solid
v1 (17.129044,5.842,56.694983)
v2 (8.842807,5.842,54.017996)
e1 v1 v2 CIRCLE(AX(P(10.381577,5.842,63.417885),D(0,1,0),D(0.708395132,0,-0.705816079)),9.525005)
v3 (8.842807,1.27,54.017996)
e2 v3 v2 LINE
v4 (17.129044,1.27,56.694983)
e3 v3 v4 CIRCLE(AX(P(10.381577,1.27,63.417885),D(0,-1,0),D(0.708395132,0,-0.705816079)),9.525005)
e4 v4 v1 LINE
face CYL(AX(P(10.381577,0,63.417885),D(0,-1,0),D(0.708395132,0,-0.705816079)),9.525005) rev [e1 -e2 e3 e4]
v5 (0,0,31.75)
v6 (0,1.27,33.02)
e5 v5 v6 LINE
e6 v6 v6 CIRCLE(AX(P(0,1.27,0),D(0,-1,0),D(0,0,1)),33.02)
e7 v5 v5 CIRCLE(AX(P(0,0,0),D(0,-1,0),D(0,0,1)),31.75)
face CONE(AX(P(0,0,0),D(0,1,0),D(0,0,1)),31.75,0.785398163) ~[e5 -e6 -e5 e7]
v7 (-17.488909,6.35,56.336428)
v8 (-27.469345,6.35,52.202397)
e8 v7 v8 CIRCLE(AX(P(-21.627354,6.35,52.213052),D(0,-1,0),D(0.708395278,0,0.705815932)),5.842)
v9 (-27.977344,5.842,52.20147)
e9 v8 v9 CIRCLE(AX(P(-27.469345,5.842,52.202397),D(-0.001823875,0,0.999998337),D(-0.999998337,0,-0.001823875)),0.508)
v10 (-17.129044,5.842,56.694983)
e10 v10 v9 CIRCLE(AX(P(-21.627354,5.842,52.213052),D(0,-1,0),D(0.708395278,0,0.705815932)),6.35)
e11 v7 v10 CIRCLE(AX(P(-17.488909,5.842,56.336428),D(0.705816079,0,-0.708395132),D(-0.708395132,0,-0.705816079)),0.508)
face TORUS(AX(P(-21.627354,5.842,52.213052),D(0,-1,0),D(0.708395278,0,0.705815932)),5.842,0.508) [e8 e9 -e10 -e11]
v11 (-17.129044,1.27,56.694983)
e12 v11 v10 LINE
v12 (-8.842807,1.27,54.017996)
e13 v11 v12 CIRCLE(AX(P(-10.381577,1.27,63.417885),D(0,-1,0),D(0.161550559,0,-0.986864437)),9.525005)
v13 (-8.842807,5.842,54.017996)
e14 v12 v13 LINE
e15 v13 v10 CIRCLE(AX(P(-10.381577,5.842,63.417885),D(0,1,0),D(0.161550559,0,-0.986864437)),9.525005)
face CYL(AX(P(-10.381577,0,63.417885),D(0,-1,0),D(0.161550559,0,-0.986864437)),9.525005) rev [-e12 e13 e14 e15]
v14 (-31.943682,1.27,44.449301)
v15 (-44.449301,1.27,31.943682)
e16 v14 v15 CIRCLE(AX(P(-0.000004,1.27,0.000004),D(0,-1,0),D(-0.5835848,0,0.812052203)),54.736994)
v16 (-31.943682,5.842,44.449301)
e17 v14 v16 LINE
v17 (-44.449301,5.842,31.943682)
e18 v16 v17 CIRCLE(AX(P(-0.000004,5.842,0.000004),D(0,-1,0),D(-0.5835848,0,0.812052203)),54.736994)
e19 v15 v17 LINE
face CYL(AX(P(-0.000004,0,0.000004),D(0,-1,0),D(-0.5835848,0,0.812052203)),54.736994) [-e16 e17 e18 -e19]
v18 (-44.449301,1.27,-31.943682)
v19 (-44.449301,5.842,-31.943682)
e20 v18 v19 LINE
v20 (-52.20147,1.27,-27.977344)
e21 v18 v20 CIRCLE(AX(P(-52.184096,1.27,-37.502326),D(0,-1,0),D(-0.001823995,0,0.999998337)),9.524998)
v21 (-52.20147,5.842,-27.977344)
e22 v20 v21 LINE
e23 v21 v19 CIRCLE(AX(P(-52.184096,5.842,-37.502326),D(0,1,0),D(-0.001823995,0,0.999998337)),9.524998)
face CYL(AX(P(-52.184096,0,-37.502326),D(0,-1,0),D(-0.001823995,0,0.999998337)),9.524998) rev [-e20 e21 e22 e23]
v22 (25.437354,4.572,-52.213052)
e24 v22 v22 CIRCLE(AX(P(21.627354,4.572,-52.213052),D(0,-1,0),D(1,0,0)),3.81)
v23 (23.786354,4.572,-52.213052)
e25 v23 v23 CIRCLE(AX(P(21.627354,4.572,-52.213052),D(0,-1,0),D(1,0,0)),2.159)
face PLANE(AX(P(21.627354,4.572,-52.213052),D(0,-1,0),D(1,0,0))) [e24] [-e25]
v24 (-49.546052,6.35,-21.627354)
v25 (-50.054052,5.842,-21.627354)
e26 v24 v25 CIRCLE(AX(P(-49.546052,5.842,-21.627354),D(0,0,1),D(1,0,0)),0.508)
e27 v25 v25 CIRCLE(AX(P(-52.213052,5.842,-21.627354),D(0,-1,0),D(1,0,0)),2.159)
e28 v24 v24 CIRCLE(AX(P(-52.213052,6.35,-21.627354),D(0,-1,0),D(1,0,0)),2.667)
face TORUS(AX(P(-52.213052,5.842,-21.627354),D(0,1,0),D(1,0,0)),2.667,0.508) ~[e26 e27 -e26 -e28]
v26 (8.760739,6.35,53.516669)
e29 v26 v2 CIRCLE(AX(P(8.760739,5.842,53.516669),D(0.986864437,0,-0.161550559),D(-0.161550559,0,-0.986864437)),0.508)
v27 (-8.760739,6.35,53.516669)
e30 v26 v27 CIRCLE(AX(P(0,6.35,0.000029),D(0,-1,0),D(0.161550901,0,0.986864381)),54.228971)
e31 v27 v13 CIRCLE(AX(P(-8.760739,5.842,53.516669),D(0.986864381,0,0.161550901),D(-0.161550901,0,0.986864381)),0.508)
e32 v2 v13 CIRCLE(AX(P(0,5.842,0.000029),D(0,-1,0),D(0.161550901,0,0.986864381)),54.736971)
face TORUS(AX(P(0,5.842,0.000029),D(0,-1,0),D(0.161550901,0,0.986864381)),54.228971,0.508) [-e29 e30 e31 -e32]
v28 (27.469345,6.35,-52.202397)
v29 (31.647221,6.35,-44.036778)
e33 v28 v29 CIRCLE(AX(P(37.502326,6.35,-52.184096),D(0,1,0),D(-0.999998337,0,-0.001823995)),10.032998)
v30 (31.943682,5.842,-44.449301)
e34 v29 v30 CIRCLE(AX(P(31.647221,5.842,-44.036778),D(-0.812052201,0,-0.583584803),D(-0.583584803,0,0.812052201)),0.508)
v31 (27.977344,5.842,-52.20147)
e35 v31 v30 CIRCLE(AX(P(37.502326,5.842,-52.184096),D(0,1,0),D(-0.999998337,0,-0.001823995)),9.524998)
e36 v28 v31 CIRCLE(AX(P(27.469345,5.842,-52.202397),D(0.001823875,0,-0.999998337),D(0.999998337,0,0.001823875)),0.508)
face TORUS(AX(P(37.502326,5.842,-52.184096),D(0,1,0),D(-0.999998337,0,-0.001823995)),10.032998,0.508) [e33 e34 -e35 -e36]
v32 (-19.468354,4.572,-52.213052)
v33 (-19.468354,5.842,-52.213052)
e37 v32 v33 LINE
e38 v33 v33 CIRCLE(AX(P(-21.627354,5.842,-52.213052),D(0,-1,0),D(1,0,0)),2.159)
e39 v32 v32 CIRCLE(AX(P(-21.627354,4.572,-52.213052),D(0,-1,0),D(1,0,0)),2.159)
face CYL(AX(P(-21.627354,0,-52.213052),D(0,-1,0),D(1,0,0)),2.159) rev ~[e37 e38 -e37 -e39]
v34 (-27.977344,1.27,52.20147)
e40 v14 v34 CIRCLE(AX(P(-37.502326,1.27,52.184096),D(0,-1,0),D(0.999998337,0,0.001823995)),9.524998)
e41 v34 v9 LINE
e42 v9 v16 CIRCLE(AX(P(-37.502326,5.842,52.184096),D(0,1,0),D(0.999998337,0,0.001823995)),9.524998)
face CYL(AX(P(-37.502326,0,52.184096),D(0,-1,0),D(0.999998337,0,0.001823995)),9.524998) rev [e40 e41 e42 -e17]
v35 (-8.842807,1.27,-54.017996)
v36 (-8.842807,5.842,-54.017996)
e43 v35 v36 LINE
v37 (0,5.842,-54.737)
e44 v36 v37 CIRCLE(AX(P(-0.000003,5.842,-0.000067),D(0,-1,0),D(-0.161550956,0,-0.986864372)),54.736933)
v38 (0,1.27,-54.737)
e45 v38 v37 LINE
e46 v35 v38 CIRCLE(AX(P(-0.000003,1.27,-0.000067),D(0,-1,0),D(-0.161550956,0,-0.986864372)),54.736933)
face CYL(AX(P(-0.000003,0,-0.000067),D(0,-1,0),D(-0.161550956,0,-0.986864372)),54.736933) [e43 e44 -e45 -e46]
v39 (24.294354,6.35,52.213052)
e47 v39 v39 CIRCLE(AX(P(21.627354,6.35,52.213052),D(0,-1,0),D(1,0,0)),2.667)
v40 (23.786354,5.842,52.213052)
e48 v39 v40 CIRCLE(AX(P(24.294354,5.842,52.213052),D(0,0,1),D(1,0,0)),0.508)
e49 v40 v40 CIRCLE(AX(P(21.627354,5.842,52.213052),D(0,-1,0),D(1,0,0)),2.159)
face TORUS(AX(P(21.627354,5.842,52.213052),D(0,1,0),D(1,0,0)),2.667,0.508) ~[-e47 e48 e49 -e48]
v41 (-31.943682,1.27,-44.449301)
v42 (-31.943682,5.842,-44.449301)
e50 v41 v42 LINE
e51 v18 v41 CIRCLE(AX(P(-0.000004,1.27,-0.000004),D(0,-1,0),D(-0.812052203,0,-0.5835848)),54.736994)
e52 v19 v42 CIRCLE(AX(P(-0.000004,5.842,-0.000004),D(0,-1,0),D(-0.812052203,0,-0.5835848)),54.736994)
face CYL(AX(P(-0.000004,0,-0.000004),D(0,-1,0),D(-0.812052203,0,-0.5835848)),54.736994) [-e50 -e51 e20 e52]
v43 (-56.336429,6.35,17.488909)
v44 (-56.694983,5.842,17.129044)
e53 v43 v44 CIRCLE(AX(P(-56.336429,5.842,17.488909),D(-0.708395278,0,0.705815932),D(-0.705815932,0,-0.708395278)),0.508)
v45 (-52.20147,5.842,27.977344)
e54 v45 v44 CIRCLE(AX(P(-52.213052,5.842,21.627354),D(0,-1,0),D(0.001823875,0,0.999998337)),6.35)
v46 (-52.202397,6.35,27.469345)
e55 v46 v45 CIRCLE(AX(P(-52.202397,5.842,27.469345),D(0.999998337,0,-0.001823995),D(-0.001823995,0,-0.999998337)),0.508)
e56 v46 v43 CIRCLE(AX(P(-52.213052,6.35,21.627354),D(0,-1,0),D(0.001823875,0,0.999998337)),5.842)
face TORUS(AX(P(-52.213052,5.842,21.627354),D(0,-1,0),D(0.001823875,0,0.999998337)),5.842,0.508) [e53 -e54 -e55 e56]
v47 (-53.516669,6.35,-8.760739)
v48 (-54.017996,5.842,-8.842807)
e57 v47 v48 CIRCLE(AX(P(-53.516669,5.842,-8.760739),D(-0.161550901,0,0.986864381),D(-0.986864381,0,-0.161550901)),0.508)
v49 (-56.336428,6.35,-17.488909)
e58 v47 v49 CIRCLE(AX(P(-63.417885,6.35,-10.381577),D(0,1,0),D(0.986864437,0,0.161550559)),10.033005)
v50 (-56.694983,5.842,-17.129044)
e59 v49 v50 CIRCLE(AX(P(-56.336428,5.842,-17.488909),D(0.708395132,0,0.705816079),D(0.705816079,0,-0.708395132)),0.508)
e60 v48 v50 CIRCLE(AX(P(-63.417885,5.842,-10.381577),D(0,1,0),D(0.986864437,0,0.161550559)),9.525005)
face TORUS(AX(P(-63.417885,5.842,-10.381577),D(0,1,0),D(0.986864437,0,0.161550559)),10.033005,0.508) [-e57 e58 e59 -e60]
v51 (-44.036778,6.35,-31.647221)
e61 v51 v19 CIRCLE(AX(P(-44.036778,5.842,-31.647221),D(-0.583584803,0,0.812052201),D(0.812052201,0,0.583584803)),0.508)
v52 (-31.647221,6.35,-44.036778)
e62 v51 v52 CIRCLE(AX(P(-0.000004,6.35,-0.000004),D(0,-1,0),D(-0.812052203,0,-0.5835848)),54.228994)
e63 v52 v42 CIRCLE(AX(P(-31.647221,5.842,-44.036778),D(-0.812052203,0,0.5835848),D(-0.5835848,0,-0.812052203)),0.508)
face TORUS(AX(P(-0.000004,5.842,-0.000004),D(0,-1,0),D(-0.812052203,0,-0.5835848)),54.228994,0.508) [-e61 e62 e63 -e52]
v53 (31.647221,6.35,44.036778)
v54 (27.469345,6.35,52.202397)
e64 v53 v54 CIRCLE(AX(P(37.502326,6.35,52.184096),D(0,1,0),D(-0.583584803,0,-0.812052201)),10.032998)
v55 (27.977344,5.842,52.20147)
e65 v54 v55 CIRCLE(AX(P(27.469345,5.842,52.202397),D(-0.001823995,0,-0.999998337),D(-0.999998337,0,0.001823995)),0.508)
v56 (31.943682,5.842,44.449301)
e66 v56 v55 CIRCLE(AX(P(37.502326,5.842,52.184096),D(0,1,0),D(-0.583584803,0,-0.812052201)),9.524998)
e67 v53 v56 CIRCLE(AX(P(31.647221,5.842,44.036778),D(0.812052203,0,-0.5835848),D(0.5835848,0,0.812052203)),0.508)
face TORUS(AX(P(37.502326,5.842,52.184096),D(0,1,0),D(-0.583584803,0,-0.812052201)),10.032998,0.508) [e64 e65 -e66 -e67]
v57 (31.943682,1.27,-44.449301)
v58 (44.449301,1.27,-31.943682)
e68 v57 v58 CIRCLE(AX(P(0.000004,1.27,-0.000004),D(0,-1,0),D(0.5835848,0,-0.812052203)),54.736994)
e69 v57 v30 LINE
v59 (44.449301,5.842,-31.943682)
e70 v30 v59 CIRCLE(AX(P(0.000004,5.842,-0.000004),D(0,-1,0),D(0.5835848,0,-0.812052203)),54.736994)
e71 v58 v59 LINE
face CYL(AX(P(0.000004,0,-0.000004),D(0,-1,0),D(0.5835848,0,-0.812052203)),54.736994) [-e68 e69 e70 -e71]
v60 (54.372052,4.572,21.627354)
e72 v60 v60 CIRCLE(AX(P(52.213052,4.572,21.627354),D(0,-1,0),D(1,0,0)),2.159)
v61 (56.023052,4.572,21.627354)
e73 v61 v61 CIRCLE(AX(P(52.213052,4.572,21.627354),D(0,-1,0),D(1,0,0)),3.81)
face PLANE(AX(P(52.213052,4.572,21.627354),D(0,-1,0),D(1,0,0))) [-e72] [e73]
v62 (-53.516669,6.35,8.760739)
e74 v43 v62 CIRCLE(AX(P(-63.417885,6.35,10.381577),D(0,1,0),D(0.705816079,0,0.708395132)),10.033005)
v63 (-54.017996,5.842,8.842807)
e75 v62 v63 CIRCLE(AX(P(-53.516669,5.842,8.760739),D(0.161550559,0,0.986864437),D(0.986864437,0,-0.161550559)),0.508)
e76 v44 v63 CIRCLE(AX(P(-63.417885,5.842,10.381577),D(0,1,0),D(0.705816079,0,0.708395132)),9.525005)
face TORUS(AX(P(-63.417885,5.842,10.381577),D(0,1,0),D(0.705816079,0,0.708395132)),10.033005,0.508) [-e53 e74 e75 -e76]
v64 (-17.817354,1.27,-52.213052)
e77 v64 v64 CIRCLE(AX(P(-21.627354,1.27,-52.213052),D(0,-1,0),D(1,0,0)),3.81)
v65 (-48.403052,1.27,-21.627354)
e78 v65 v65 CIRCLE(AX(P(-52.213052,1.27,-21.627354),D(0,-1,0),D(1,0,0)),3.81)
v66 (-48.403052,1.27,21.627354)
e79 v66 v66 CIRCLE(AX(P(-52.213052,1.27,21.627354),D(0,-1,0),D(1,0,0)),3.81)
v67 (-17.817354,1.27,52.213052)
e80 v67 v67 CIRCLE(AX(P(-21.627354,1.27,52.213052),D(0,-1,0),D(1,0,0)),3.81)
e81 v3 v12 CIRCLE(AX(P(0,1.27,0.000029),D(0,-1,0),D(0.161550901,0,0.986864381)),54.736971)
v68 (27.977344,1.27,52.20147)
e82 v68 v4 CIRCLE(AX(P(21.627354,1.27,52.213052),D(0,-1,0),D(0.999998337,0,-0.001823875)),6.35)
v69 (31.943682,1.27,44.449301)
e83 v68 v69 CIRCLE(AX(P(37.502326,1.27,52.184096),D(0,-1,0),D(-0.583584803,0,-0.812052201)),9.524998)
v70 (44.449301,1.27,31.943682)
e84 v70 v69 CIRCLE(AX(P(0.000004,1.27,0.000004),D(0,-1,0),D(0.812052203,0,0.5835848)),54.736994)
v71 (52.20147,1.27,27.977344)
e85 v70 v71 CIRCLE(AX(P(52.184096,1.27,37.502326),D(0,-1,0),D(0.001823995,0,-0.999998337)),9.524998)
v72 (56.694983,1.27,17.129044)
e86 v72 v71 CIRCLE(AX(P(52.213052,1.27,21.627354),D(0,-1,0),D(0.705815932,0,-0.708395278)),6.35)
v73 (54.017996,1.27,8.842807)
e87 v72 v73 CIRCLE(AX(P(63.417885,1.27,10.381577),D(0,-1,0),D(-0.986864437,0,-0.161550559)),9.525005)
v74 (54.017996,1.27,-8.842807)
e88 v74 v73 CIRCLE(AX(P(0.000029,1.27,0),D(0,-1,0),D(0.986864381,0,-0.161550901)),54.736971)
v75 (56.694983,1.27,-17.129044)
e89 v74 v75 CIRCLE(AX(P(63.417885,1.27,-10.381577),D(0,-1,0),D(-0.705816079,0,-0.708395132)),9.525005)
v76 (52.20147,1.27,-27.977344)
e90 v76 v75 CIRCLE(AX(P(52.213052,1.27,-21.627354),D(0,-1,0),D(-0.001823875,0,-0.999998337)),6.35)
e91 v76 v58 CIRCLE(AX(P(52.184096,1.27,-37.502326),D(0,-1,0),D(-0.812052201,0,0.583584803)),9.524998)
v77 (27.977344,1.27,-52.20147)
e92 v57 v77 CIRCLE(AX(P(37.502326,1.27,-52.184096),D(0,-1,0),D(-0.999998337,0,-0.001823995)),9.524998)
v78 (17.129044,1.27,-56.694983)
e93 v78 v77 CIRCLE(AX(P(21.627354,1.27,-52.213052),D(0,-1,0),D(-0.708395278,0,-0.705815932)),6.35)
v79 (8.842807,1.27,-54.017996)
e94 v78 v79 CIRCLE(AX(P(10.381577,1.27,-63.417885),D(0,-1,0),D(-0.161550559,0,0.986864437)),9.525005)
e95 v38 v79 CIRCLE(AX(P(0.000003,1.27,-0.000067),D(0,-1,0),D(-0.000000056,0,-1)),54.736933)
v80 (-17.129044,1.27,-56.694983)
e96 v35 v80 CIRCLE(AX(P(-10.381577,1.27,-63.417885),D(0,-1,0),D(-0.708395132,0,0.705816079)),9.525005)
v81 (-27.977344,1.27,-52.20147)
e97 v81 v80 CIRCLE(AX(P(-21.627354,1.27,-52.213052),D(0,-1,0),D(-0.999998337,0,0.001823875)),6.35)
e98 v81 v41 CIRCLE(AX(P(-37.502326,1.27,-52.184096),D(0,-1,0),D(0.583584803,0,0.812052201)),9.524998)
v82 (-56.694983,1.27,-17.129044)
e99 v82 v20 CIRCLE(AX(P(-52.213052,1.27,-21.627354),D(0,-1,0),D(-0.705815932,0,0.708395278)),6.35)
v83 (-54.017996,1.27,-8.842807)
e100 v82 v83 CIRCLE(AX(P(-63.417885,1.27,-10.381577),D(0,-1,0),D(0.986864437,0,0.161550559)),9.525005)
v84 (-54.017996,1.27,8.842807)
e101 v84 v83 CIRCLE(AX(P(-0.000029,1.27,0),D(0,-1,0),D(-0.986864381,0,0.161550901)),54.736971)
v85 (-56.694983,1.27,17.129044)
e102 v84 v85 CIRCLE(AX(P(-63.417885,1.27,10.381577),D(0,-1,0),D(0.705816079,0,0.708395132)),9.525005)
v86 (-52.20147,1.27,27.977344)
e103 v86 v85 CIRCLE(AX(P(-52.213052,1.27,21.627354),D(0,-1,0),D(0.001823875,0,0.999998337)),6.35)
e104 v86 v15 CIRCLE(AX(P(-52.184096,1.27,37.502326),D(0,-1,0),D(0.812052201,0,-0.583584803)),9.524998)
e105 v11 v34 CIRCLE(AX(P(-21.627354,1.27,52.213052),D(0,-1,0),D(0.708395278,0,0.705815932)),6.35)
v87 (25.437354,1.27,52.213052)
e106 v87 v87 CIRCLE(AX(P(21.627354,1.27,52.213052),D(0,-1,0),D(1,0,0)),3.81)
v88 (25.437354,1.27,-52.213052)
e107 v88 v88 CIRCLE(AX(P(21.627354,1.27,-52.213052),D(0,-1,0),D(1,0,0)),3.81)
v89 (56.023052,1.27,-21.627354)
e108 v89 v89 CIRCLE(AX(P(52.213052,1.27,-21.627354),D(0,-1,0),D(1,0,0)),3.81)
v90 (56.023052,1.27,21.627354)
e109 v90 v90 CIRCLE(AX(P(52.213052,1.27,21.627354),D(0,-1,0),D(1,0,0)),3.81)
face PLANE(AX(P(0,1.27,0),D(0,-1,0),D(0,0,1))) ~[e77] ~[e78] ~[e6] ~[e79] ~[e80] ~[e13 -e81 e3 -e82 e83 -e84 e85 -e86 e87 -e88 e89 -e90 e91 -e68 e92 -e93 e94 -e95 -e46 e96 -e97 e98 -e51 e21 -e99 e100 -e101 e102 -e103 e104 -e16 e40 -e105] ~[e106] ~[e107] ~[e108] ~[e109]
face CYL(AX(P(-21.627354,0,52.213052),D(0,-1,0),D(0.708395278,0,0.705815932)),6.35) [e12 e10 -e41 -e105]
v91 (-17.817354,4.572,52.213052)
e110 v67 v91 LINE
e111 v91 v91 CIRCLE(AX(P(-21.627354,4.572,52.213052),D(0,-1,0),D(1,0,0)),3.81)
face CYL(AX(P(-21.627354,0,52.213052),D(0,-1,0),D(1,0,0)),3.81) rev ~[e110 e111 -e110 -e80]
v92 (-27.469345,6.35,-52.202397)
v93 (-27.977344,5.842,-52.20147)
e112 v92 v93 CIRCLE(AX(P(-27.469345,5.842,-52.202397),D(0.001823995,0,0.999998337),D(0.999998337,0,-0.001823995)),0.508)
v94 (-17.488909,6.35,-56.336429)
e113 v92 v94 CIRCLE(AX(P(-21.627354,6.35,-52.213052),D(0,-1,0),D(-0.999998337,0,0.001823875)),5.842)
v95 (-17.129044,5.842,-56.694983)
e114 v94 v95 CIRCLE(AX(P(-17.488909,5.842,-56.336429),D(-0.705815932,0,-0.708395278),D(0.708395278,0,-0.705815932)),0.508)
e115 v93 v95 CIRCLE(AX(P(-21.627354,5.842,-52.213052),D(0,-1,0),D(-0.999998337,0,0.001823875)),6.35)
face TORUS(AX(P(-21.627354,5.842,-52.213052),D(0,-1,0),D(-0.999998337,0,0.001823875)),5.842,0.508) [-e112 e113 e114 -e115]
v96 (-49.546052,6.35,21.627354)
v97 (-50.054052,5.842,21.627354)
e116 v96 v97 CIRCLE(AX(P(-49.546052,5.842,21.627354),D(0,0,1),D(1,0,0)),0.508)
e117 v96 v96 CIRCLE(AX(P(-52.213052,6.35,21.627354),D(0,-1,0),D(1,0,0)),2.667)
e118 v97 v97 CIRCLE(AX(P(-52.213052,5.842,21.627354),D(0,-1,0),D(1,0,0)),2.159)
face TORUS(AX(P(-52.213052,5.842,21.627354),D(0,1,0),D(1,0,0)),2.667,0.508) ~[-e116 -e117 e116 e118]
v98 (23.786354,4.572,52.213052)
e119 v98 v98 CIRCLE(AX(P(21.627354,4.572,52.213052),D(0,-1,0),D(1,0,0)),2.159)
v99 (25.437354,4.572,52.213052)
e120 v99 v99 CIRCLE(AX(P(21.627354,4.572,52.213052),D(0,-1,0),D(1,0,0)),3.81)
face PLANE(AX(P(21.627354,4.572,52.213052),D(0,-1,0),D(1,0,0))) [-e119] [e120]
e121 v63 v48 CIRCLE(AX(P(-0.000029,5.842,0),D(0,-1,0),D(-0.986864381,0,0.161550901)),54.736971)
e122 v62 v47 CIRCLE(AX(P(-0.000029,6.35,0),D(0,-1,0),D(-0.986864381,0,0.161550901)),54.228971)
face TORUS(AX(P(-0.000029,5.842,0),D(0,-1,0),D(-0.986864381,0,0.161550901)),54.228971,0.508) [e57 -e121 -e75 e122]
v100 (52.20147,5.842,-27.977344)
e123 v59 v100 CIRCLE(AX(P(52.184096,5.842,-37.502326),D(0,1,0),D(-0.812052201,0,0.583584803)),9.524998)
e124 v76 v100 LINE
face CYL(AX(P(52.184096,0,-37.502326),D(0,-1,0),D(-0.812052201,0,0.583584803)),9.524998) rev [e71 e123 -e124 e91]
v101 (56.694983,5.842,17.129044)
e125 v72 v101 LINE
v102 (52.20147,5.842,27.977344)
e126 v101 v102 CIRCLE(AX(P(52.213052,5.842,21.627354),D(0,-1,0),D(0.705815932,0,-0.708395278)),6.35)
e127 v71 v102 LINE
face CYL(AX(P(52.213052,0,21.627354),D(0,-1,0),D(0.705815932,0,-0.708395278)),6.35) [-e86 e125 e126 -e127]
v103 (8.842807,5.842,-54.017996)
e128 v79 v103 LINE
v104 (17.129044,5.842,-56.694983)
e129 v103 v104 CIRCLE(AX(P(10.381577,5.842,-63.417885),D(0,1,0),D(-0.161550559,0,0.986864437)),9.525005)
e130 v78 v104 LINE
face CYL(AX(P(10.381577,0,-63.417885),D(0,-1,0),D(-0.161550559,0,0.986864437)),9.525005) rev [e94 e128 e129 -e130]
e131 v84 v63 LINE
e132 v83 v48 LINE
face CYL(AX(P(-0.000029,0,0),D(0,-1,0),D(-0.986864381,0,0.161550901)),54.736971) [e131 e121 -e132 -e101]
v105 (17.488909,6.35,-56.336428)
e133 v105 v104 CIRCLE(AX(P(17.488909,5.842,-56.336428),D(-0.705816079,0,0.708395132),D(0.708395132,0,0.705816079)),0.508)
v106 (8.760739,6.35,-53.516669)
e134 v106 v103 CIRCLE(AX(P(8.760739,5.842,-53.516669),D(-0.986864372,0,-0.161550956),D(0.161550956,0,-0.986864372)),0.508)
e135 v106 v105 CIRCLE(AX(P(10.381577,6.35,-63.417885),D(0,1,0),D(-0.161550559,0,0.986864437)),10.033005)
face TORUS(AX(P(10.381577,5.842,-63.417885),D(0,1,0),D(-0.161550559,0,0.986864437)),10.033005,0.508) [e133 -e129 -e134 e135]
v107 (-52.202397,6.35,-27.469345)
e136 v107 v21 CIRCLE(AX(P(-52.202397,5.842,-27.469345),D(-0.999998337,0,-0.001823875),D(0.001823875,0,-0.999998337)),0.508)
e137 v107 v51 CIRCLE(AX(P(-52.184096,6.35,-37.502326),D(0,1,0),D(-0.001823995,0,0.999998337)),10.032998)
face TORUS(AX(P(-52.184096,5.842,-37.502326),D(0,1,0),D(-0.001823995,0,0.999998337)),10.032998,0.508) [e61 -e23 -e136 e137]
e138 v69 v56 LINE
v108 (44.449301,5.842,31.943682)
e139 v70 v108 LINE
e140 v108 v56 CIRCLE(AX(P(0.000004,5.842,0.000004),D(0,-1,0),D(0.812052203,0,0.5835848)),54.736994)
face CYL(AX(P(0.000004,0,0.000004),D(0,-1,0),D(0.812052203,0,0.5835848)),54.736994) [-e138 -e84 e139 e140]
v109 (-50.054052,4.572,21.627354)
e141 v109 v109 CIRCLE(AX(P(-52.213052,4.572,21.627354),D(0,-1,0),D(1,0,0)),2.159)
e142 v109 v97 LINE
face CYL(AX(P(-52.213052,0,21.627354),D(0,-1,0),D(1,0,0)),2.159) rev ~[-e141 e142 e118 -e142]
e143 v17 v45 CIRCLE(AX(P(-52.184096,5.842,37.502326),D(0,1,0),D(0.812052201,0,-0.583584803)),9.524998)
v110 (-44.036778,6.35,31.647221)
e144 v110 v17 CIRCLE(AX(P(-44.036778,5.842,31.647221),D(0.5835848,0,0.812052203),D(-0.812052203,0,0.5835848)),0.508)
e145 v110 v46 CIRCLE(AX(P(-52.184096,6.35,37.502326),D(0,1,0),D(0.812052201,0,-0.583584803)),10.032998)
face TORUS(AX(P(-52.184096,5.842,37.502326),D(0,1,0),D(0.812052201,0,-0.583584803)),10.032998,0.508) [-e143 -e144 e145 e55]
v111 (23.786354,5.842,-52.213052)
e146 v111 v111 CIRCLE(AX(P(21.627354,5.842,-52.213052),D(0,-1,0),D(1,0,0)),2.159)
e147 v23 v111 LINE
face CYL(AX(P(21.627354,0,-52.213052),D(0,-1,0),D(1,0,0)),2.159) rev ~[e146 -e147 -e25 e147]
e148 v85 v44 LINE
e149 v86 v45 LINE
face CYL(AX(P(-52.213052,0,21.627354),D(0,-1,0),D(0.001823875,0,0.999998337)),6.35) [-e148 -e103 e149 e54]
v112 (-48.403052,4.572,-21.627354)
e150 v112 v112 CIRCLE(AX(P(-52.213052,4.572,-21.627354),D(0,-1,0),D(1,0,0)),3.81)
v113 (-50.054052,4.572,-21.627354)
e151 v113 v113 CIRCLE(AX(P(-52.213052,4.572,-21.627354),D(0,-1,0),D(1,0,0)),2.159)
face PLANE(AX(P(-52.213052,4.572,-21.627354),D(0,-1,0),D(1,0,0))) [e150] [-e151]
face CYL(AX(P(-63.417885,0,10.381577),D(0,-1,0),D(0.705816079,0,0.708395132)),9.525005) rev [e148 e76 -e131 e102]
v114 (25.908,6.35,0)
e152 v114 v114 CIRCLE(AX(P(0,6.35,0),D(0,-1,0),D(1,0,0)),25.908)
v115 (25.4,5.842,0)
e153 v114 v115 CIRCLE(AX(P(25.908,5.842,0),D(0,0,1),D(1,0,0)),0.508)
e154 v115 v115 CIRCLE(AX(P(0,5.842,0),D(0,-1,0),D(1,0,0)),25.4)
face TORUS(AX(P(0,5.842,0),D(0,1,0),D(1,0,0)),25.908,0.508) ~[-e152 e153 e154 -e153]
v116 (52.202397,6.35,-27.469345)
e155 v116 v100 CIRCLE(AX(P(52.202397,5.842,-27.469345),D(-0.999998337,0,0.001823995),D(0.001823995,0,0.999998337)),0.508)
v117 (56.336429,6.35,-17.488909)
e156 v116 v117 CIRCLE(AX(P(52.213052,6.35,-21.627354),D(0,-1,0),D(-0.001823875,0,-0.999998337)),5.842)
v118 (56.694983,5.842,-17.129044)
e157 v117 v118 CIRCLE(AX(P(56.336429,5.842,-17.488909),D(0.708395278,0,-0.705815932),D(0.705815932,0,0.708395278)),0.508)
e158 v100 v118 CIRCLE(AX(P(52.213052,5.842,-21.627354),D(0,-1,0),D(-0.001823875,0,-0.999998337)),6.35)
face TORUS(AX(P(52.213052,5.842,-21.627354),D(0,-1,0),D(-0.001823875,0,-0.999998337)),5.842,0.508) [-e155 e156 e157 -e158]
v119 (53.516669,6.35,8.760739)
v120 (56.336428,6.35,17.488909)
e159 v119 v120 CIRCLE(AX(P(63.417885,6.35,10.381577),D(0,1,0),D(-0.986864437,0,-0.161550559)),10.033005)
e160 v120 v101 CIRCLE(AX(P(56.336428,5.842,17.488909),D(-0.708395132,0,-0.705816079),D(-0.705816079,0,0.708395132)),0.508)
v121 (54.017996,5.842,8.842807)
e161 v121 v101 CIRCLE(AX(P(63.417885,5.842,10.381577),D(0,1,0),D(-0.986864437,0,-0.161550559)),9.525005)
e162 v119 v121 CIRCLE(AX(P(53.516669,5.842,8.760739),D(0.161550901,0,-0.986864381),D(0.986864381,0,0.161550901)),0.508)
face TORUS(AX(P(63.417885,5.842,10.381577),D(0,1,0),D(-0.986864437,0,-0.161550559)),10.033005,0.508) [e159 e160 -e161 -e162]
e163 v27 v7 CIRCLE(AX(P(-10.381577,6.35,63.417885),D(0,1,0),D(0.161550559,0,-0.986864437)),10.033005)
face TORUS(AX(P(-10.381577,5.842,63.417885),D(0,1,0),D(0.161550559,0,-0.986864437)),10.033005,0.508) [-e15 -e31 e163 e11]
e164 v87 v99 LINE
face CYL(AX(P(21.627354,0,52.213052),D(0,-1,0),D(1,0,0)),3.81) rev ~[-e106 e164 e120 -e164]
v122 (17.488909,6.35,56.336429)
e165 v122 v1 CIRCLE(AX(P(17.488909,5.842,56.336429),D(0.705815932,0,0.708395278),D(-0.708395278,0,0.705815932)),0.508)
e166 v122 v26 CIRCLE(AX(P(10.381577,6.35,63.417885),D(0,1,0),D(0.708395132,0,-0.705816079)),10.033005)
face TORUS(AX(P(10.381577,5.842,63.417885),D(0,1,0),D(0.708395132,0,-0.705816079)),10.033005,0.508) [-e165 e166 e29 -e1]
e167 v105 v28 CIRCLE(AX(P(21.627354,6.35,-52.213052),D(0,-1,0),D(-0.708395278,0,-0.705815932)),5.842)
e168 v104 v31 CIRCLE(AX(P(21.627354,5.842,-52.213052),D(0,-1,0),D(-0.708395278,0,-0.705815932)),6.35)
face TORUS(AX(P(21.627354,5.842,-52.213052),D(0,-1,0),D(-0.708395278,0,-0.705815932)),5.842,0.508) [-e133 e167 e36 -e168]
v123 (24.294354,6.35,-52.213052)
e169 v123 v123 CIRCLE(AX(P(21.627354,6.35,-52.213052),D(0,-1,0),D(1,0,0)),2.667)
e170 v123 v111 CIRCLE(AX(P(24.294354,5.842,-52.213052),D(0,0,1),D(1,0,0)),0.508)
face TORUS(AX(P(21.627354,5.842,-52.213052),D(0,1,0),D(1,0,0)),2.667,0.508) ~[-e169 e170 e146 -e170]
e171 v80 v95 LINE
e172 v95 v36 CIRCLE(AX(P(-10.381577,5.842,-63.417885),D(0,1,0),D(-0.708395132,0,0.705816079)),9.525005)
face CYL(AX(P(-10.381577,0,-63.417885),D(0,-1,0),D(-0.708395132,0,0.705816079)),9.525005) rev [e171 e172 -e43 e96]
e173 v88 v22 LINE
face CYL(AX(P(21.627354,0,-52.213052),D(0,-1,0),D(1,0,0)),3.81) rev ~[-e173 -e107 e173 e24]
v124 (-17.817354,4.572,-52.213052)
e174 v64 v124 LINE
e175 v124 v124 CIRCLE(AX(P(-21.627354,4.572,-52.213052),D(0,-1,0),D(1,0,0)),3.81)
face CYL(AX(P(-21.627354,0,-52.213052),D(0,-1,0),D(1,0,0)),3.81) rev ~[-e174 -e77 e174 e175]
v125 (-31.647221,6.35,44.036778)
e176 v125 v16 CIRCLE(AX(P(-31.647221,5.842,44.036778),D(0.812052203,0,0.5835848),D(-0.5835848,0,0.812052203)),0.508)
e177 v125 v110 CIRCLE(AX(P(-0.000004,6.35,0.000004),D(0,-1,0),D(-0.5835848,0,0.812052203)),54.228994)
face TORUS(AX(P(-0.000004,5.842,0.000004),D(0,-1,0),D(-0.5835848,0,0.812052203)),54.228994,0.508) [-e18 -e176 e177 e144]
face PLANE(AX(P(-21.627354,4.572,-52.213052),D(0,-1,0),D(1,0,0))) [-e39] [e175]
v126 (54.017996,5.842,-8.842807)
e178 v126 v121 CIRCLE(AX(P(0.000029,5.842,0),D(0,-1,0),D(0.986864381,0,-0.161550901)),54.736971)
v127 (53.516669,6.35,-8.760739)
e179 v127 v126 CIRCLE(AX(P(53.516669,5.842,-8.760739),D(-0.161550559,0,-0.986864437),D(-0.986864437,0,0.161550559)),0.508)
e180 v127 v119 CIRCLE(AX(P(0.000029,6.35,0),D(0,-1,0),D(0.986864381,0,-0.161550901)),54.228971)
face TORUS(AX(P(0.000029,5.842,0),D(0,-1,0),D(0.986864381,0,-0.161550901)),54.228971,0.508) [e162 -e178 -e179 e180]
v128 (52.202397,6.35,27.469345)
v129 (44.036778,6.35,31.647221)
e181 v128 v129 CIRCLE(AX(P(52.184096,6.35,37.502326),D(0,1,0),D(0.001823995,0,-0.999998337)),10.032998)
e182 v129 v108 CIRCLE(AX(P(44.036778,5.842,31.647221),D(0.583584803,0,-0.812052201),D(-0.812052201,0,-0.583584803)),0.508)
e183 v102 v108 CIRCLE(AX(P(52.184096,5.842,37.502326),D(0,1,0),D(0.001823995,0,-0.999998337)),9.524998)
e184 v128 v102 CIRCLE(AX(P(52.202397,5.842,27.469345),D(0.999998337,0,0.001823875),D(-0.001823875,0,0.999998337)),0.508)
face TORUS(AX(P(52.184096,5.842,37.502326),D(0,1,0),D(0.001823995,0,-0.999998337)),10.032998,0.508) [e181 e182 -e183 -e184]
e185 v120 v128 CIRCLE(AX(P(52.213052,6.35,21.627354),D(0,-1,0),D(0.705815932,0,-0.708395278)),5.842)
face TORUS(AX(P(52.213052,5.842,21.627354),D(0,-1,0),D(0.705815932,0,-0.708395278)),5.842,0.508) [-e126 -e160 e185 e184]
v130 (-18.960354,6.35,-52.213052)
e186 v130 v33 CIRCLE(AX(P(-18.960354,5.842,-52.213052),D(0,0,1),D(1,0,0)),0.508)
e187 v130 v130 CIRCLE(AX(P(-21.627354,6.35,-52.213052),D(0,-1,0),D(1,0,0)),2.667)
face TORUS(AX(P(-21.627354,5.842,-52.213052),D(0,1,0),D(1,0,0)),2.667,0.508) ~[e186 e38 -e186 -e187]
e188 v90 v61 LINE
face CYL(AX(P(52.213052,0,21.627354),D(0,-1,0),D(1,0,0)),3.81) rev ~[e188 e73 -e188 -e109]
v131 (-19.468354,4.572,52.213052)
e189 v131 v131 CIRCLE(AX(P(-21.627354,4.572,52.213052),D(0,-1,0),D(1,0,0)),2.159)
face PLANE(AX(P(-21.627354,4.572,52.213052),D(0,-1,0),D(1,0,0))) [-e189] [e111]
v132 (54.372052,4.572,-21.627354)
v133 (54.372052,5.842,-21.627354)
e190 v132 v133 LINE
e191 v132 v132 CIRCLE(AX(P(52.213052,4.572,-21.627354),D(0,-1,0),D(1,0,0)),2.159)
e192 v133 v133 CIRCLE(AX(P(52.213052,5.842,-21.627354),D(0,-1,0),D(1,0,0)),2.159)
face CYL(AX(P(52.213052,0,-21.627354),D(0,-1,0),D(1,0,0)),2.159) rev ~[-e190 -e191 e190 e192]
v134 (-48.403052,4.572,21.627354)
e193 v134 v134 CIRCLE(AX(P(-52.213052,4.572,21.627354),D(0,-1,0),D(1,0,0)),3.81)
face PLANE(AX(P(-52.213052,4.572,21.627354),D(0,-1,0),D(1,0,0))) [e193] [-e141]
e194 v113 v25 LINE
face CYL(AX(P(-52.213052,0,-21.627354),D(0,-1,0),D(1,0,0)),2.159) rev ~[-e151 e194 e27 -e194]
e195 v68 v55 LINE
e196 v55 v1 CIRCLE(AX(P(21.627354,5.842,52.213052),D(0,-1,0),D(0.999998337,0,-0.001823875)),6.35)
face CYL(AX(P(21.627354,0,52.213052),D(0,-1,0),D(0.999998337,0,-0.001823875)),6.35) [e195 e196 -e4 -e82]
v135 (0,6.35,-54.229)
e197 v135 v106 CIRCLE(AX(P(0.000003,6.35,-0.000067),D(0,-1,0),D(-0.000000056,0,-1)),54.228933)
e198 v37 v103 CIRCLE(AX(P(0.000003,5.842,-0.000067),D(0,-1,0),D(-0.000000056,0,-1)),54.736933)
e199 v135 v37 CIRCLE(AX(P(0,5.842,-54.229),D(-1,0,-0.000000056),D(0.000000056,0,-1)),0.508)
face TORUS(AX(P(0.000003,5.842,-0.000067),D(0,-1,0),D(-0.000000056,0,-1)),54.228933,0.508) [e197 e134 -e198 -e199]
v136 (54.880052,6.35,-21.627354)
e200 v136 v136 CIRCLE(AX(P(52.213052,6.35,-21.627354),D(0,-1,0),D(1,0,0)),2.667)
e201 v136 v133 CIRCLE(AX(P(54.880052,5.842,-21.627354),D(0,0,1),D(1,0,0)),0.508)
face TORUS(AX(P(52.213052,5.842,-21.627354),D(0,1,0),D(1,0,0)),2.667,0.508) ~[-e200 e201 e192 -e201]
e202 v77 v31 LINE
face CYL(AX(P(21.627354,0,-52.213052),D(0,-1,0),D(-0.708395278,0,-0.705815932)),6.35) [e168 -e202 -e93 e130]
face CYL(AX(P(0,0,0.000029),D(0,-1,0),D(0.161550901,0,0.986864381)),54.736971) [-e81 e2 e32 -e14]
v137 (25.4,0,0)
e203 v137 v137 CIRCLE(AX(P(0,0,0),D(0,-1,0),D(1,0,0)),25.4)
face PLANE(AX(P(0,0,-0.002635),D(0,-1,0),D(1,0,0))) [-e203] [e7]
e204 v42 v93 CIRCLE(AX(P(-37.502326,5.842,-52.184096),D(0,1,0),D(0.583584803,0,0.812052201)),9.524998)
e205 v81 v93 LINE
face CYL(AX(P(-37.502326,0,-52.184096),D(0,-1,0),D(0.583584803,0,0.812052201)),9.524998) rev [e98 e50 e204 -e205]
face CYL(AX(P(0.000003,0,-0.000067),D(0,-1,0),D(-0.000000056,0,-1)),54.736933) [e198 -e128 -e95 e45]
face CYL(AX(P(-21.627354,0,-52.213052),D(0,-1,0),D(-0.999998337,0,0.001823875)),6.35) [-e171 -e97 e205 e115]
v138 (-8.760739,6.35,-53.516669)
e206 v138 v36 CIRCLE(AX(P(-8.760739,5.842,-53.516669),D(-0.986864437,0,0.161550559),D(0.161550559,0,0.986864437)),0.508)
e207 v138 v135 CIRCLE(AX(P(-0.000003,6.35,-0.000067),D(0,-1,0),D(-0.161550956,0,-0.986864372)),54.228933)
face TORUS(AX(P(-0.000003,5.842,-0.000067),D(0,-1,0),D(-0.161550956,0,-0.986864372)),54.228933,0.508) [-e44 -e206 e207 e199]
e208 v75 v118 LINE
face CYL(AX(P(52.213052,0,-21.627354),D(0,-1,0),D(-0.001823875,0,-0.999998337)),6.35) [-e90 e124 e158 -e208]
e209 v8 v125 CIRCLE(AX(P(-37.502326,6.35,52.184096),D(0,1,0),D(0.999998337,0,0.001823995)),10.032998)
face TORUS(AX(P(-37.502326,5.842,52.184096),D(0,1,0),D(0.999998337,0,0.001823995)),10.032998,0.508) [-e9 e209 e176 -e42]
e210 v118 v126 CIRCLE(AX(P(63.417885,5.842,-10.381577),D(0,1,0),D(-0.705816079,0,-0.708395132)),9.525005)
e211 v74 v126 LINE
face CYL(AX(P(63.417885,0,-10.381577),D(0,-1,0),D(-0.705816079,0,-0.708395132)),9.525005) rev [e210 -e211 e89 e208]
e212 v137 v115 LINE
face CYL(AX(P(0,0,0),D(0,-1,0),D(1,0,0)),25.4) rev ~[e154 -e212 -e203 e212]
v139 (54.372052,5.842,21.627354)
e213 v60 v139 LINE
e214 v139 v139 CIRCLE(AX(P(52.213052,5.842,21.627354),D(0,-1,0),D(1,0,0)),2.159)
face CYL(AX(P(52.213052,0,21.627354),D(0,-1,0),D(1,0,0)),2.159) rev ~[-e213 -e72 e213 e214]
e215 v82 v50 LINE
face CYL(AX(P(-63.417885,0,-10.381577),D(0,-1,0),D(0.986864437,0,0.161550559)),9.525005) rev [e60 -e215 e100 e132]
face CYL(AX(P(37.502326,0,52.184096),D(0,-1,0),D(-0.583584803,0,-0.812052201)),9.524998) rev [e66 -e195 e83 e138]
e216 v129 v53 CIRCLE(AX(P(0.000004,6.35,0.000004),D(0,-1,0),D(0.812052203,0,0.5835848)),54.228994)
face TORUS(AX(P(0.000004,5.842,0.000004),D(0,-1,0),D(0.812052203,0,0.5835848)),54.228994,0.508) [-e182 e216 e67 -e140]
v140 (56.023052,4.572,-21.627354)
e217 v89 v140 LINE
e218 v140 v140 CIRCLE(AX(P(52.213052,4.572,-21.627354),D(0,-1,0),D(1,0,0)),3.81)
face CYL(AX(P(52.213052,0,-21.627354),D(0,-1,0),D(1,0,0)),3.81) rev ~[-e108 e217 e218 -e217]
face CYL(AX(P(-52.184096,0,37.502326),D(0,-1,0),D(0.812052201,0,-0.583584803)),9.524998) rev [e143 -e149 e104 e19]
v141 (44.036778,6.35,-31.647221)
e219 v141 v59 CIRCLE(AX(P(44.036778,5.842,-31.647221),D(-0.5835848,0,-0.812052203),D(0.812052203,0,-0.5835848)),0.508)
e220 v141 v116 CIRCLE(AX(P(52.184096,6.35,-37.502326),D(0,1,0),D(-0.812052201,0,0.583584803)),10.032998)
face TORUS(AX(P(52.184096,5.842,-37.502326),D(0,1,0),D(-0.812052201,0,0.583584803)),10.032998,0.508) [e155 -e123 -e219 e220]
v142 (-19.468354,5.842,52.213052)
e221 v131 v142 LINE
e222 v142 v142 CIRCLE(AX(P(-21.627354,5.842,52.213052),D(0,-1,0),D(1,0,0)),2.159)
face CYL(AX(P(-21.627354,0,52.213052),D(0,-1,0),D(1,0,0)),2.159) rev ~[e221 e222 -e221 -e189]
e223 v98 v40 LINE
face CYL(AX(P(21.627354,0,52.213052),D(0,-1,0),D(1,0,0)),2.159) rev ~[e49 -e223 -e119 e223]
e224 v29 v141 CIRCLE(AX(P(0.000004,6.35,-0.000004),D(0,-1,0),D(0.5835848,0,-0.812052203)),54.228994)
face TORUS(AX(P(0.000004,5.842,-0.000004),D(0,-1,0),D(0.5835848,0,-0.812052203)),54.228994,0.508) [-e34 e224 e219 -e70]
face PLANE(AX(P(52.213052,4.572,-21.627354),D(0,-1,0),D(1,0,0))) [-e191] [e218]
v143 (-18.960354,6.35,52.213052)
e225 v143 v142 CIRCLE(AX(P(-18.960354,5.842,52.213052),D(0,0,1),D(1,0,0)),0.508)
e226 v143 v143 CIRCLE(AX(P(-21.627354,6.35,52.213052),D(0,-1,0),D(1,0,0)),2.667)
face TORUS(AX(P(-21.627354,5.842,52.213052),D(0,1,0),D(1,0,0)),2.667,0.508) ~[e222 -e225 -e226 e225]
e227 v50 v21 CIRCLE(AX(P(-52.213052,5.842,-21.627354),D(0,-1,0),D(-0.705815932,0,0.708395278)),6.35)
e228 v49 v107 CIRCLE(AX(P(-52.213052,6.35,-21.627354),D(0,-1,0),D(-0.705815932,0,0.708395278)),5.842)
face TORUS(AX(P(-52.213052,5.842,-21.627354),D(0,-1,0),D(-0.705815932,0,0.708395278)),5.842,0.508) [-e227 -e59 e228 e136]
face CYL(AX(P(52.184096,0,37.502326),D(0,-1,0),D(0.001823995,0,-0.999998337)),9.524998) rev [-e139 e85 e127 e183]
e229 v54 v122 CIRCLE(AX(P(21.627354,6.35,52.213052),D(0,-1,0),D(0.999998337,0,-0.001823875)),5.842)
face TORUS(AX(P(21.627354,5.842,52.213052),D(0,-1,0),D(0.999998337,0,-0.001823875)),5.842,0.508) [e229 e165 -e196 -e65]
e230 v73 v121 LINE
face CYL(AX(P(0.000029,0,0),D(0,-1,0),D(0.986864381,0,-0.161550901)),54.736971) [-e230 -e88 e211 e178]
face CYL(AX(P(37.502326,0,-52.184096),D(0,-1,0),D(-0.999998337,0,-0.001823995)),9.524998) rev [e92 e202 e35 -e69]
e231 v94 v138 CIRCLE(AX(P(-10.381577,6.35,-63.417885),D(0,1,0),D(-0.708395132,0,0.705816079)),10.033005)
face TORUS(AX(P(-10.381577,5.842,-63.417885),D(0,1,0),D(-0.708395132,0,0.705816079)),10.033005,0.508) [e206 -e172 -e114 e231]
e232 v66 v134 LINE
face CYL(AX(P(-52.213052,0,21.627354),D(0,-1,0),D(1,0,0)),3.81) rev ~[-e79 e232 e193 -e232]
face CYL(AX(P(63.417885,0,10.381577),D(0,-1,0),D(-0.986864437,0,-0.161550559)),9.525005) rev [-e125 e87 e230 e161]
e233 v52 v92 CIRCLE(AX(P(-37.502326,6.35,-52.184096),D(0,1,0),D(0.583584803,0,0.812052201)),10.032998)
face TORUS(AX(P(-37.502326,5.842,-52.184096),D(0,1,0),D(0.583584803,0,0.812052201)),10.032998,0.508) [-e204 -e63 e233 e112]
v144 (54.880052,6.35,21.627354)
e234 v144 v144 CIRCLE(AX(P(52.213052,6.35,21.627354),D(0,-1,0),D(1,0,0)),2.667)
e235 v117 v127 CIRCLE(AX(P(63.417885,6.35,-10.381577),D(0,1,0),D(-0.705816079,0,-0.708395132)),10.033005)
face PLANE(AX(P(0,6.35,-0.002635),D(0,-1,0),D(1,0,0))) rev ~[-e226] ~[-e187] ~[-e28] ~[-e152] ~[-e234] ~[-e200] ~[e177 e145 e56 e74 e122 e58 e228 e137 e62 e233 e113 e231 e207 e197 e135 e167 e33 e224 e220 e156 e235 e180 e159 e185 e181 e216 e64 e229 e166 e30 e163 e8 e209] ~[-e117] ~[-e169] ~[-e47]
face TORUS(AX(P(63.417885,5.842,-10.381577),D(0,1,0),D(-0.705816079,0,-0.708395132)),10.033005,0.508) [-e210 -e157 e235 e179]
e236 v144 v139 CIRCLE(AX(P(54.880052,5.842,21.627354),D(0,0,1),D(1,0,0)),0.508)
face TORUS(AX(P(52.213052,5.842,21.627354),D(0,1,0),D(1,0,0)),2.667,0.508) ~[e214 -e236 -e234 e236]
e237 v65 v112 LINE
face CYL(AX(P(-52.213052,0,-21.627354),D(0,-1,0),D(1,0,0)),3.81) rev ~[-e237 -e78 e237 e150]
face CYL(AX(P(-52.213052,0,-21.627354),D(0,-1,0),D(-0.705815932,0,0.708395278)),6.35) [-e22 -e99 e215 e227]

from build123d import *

# Parameters (mm, degrees)
F0_R     = 2.159
F0_R_2   = 25.4
F1_DEPTH = 6.35
F2_R     = 3.81
F3_DEPTH = 4.572
F6_R     = 0.508


with BuildPart() as f1:
    # F0 (on Front) → F1 (new body)
    with BuildSketch(Plane.XZ):
        with BuildLine():
            ThreePointArc((56.694983, -17.129044), (54.354137, -13.30975), (54.017996, -8.842807))
            ThreePointArc((54.017996, -8.842807), (54.737, 0), (54.017996, 8.842807))
            ThreePointArc((54.017996, 8.842807), (54.354137, 13.30975), (56.694983, 17.129044))
            ThreePointArc((56.694983, 17.129044), (58.079687, 24.057394), (52.20147, 27.977344))
            ThreePointArc((52.20147, 27.977344), (47.845593, 29.022764), (44.449301, 31.943682))
            ThreePointArc((44.449301, 31.943682), (38.704904, 38.704904), (31.943682, 44.449301))
            ThreePointArc((31.943682, 44.449301), (29.022764, 47.845593), (27.977344, 52.20147))
            ThreePointArc((27.977344, 52.20147), (24.057394, 58.079687), (17.129044, 56.694983))
            ThreePointArc((17.129044, 56.694983), (13.30975, 54.354137), (8.842807, 54.017996))
            ThreePointArc((8.842807, 54.017996), (0, 54.737), (-8.842807, 54.017996))
            ThreePointArc((-8.842807, 54.017996), (-13.30975, 54.354137), (-17.129044, 56.694983))
            ThreePointArc((-17.129044, 56.694983), (-24.057394, 58.079687), (-27.977344, 52.20147))
            ThreePointArc((-27.977344, 52.20147), (-29.022764, 47.845593), (-31.943682, 44.449301))
            ThreePointArc((-31.943682, 44.449301), (-38.704904, 38.704904), (-44.449301, 31.943682))
            ThreePointArc((-44.449301, 31.943682), (-47.845593, 29.022764), (-52.20147, 27.977344))
            ThreePointArc((-52.20147, 27.977344), (-58.079687, 24.057394), (-56.694983, 17.129044))
            ThreePointArc((-56.694983, 17.129044), (-54.354137, 13.30975), (-54.017996, 8.842807))
            ThreePointArc((-54.017996, 8.842807), (-54.737, 0), (-54.017996, -8.842807))
            ThreePointArc((-54.017996, -8.842807), (-54.354137, -13.30975), (-56.694983, -17.129044))
            ThreePointArc((-56.694983, -17.129044), (-58.079687, -24.057394), (-52.20147, -27.977344))
            ThreePointArc((-52.20147, -27.977344), (-47.845593, -29.022764), (-44.449301, -31.943682))
            ThreePointArc((-44.449301, -31.943682), (-38.704904, -38.704904), (-31.943682, -44.449301))
            ThreePointArc((-31.943682, -44.449301), (-29.022764, -47.845593), (-27.977344, -52.20147))
            ThreePointArc((-27.977344, -52.20147), (-24.057394, -58.079687), (-17.129044, -56.694983))
            ThreePointArc((-17.129044, -56.694983), (-13.30975, -54.354137), (-8.842807, -54.017996))
            ThreePointArc((-8.842807, -54.017996), (-4.435995, -54.556953), (0, -54.737))
            ThreePointArc((0, -54.737), (4.435995, -54.556953), (8.842807, -54.017996))
            ThreePointArc((8.842807, -54.017996), (13.30975, -54.354137), (17.129044, -56.694983))
            ThreePointArc((17.129044, -56.694983), (24.057394, -58.079687), (27.977344, -52.20147))
            ThreePointArc((27.977344, -52.20147), (29.022764, -47.845593), (31.943682, -44.449301))
            ThreePointArc((31.943682, -44.449301), (38.704904, -38.704904), (44.449301, -31.943682))
            ThreePointArc((44.449301, -31.943682), (47.845593, -29.022764), (52.20147, -27.977344))
            ThreePointArc((52.20147, -27.977344), (58.079687, -24.057394), (56.694983, -17.129044))
        make_face()
        with Locations((-21.627354, -52.213052)):
            Circle(F0_R, mode=Mode.SUBTRACT)
        with Locations((-52.213052, -21.627354)):
            Circle(F0_R, mode=Mode.SUBTRACT)
        with Locations((21.627354, -52.213052)):
            Circle(F0_R, mode=Mode.SUBTRACT)
        Circle(F0_R_2, mode=Mode.SUBTRACT)
        with Locations((52.213052, -21.627354)):
            Circle(F0_R, mode=Mode.SUBTRACT)
        with Locations((-52.213052, 21.627354)):
            Circle(F0_R, mode=Mode.SUBTRACT)
        with Locations((-21.627354, 52.213052)):
            Circle(F0_R, mode=Mode.SUBTRACT)
        with Locations((52.213052, 21.627354)):
            Circle(F0_R, mode=Mode.SUBTRACT)
        with Locations((21.627354, 52.213052)):
            Circle(F0_R, mode=Mode.SUBTRACT)
    extrude(amount=-F1_DEPTH)

    # F2 (on Front) → F3 (cut)
    with BuildSketch(Plane.XZ):
        with Locations((-21.627354, 52.213052)):
            Circle(F2_R)
        with Locations((-52.213052, 21.627354)):
            Circle(F2_R)
        with Locations((-52.213052, -21.627354)):
            Circle(F2_R)
        with Locations((-21.627354, -52.213052)):
            Circle(F2_R)
        with Locations((21.627354, -52.213052)):
            Circle(F2_R)
        with Locations((52.213052, -21.627354)):
            Circle(F2_R)
        with Locations((52.213052, 21.627354)):
            Circle(F2_R)
        with Locations((21.627354, 52.213052)):
            Circle(F2_R)
    extrude(amount=-F3_DEPTH, mode=Mode.SUBTRACT)

    # F4 (on Right) → F5 (revolve, cut)
    with BuildSketch(Plane.YZ):
        Polygon((0, 63.5), (0, 31.75), (1.27, 33.02), (1.27, 63.5), align=None)
    revolve(axis=Axis((0, -12.7, 0), (0, -1, 0)), mode=Mode.SUBTRACT)

    # F6
    f6_edges = [f1.edges().sort_by_distance(p)[0] for p in [
        (-38.704904, 6.35, 38.704904),
        (-47.845593, 6.35, 29.022764),
        (-58.079687, 6.35, 24.057394),
        (-54.354137, 6.35, 13.30975),
        (-54.737, 6.35, 0),
        (-54.354137, 6.35, -13.30975),
        (-58.079687, 6.35, -24.057394),
        (-47.845593, 6.35, -29.022764),
        (-38.704904, 6.35, -38.704904),
        (-29.022764, 6.35, -47.845593),
        (-24.057394, 6.35, -58.079687),
        (-13.30975, 6.35, -54.354137),
        (0, 6.35, -54.737),
        (13.30975, 6.35, -54.354137),
        (24.057394, 6.35, -58.079687),
        (29.022764, 6.35, -47.845593),
        (38.704904, 6.35, -38.704904),
        (47.845593, 6.35, -29.022764),
        (58.079687, 6.35, -24.057394),
        (54.354137, 6.35, -13.30975),
        (54.737, 6.35, 0),
        (54.354137, 6.35, 13.30975),
        (58.079687, 6.35, 24.057394),
        (47.845593, 6.35, 29.022764),
        (38.704904, 6.35, 38.704904),
        (29.022764, 6.35, 47.845593),
        (24.057394, 6.35, 58.079687),
        (13.30975, 6.35, 54.354137),
        (0, 6.35, 54.737),
        (-13.30975, 6.35, 54.354137),
        (-24.057394, 6.35, 58.079687),
        (-29.022764, 6.35, 47.845593),
        (-23.786354, 6.35, -52.213052),
        (-54.372052, 6.35, -21.627354),
        (19.468354, 6.35, -52.213052),
        (-25.4, 6.35, 0),
        (50.054052, 6.35, -21.627354),
        (-54.372052, 6.35, 21.627354),
        (-23.786354, 6.35, 52.213052),
        (50.054052, 6.35, 21.627354),
        (19.468354, 6.35, 52.213052),
    ]]
    fillet(f6_edges, radius=F6_R)


solid = f1.part
